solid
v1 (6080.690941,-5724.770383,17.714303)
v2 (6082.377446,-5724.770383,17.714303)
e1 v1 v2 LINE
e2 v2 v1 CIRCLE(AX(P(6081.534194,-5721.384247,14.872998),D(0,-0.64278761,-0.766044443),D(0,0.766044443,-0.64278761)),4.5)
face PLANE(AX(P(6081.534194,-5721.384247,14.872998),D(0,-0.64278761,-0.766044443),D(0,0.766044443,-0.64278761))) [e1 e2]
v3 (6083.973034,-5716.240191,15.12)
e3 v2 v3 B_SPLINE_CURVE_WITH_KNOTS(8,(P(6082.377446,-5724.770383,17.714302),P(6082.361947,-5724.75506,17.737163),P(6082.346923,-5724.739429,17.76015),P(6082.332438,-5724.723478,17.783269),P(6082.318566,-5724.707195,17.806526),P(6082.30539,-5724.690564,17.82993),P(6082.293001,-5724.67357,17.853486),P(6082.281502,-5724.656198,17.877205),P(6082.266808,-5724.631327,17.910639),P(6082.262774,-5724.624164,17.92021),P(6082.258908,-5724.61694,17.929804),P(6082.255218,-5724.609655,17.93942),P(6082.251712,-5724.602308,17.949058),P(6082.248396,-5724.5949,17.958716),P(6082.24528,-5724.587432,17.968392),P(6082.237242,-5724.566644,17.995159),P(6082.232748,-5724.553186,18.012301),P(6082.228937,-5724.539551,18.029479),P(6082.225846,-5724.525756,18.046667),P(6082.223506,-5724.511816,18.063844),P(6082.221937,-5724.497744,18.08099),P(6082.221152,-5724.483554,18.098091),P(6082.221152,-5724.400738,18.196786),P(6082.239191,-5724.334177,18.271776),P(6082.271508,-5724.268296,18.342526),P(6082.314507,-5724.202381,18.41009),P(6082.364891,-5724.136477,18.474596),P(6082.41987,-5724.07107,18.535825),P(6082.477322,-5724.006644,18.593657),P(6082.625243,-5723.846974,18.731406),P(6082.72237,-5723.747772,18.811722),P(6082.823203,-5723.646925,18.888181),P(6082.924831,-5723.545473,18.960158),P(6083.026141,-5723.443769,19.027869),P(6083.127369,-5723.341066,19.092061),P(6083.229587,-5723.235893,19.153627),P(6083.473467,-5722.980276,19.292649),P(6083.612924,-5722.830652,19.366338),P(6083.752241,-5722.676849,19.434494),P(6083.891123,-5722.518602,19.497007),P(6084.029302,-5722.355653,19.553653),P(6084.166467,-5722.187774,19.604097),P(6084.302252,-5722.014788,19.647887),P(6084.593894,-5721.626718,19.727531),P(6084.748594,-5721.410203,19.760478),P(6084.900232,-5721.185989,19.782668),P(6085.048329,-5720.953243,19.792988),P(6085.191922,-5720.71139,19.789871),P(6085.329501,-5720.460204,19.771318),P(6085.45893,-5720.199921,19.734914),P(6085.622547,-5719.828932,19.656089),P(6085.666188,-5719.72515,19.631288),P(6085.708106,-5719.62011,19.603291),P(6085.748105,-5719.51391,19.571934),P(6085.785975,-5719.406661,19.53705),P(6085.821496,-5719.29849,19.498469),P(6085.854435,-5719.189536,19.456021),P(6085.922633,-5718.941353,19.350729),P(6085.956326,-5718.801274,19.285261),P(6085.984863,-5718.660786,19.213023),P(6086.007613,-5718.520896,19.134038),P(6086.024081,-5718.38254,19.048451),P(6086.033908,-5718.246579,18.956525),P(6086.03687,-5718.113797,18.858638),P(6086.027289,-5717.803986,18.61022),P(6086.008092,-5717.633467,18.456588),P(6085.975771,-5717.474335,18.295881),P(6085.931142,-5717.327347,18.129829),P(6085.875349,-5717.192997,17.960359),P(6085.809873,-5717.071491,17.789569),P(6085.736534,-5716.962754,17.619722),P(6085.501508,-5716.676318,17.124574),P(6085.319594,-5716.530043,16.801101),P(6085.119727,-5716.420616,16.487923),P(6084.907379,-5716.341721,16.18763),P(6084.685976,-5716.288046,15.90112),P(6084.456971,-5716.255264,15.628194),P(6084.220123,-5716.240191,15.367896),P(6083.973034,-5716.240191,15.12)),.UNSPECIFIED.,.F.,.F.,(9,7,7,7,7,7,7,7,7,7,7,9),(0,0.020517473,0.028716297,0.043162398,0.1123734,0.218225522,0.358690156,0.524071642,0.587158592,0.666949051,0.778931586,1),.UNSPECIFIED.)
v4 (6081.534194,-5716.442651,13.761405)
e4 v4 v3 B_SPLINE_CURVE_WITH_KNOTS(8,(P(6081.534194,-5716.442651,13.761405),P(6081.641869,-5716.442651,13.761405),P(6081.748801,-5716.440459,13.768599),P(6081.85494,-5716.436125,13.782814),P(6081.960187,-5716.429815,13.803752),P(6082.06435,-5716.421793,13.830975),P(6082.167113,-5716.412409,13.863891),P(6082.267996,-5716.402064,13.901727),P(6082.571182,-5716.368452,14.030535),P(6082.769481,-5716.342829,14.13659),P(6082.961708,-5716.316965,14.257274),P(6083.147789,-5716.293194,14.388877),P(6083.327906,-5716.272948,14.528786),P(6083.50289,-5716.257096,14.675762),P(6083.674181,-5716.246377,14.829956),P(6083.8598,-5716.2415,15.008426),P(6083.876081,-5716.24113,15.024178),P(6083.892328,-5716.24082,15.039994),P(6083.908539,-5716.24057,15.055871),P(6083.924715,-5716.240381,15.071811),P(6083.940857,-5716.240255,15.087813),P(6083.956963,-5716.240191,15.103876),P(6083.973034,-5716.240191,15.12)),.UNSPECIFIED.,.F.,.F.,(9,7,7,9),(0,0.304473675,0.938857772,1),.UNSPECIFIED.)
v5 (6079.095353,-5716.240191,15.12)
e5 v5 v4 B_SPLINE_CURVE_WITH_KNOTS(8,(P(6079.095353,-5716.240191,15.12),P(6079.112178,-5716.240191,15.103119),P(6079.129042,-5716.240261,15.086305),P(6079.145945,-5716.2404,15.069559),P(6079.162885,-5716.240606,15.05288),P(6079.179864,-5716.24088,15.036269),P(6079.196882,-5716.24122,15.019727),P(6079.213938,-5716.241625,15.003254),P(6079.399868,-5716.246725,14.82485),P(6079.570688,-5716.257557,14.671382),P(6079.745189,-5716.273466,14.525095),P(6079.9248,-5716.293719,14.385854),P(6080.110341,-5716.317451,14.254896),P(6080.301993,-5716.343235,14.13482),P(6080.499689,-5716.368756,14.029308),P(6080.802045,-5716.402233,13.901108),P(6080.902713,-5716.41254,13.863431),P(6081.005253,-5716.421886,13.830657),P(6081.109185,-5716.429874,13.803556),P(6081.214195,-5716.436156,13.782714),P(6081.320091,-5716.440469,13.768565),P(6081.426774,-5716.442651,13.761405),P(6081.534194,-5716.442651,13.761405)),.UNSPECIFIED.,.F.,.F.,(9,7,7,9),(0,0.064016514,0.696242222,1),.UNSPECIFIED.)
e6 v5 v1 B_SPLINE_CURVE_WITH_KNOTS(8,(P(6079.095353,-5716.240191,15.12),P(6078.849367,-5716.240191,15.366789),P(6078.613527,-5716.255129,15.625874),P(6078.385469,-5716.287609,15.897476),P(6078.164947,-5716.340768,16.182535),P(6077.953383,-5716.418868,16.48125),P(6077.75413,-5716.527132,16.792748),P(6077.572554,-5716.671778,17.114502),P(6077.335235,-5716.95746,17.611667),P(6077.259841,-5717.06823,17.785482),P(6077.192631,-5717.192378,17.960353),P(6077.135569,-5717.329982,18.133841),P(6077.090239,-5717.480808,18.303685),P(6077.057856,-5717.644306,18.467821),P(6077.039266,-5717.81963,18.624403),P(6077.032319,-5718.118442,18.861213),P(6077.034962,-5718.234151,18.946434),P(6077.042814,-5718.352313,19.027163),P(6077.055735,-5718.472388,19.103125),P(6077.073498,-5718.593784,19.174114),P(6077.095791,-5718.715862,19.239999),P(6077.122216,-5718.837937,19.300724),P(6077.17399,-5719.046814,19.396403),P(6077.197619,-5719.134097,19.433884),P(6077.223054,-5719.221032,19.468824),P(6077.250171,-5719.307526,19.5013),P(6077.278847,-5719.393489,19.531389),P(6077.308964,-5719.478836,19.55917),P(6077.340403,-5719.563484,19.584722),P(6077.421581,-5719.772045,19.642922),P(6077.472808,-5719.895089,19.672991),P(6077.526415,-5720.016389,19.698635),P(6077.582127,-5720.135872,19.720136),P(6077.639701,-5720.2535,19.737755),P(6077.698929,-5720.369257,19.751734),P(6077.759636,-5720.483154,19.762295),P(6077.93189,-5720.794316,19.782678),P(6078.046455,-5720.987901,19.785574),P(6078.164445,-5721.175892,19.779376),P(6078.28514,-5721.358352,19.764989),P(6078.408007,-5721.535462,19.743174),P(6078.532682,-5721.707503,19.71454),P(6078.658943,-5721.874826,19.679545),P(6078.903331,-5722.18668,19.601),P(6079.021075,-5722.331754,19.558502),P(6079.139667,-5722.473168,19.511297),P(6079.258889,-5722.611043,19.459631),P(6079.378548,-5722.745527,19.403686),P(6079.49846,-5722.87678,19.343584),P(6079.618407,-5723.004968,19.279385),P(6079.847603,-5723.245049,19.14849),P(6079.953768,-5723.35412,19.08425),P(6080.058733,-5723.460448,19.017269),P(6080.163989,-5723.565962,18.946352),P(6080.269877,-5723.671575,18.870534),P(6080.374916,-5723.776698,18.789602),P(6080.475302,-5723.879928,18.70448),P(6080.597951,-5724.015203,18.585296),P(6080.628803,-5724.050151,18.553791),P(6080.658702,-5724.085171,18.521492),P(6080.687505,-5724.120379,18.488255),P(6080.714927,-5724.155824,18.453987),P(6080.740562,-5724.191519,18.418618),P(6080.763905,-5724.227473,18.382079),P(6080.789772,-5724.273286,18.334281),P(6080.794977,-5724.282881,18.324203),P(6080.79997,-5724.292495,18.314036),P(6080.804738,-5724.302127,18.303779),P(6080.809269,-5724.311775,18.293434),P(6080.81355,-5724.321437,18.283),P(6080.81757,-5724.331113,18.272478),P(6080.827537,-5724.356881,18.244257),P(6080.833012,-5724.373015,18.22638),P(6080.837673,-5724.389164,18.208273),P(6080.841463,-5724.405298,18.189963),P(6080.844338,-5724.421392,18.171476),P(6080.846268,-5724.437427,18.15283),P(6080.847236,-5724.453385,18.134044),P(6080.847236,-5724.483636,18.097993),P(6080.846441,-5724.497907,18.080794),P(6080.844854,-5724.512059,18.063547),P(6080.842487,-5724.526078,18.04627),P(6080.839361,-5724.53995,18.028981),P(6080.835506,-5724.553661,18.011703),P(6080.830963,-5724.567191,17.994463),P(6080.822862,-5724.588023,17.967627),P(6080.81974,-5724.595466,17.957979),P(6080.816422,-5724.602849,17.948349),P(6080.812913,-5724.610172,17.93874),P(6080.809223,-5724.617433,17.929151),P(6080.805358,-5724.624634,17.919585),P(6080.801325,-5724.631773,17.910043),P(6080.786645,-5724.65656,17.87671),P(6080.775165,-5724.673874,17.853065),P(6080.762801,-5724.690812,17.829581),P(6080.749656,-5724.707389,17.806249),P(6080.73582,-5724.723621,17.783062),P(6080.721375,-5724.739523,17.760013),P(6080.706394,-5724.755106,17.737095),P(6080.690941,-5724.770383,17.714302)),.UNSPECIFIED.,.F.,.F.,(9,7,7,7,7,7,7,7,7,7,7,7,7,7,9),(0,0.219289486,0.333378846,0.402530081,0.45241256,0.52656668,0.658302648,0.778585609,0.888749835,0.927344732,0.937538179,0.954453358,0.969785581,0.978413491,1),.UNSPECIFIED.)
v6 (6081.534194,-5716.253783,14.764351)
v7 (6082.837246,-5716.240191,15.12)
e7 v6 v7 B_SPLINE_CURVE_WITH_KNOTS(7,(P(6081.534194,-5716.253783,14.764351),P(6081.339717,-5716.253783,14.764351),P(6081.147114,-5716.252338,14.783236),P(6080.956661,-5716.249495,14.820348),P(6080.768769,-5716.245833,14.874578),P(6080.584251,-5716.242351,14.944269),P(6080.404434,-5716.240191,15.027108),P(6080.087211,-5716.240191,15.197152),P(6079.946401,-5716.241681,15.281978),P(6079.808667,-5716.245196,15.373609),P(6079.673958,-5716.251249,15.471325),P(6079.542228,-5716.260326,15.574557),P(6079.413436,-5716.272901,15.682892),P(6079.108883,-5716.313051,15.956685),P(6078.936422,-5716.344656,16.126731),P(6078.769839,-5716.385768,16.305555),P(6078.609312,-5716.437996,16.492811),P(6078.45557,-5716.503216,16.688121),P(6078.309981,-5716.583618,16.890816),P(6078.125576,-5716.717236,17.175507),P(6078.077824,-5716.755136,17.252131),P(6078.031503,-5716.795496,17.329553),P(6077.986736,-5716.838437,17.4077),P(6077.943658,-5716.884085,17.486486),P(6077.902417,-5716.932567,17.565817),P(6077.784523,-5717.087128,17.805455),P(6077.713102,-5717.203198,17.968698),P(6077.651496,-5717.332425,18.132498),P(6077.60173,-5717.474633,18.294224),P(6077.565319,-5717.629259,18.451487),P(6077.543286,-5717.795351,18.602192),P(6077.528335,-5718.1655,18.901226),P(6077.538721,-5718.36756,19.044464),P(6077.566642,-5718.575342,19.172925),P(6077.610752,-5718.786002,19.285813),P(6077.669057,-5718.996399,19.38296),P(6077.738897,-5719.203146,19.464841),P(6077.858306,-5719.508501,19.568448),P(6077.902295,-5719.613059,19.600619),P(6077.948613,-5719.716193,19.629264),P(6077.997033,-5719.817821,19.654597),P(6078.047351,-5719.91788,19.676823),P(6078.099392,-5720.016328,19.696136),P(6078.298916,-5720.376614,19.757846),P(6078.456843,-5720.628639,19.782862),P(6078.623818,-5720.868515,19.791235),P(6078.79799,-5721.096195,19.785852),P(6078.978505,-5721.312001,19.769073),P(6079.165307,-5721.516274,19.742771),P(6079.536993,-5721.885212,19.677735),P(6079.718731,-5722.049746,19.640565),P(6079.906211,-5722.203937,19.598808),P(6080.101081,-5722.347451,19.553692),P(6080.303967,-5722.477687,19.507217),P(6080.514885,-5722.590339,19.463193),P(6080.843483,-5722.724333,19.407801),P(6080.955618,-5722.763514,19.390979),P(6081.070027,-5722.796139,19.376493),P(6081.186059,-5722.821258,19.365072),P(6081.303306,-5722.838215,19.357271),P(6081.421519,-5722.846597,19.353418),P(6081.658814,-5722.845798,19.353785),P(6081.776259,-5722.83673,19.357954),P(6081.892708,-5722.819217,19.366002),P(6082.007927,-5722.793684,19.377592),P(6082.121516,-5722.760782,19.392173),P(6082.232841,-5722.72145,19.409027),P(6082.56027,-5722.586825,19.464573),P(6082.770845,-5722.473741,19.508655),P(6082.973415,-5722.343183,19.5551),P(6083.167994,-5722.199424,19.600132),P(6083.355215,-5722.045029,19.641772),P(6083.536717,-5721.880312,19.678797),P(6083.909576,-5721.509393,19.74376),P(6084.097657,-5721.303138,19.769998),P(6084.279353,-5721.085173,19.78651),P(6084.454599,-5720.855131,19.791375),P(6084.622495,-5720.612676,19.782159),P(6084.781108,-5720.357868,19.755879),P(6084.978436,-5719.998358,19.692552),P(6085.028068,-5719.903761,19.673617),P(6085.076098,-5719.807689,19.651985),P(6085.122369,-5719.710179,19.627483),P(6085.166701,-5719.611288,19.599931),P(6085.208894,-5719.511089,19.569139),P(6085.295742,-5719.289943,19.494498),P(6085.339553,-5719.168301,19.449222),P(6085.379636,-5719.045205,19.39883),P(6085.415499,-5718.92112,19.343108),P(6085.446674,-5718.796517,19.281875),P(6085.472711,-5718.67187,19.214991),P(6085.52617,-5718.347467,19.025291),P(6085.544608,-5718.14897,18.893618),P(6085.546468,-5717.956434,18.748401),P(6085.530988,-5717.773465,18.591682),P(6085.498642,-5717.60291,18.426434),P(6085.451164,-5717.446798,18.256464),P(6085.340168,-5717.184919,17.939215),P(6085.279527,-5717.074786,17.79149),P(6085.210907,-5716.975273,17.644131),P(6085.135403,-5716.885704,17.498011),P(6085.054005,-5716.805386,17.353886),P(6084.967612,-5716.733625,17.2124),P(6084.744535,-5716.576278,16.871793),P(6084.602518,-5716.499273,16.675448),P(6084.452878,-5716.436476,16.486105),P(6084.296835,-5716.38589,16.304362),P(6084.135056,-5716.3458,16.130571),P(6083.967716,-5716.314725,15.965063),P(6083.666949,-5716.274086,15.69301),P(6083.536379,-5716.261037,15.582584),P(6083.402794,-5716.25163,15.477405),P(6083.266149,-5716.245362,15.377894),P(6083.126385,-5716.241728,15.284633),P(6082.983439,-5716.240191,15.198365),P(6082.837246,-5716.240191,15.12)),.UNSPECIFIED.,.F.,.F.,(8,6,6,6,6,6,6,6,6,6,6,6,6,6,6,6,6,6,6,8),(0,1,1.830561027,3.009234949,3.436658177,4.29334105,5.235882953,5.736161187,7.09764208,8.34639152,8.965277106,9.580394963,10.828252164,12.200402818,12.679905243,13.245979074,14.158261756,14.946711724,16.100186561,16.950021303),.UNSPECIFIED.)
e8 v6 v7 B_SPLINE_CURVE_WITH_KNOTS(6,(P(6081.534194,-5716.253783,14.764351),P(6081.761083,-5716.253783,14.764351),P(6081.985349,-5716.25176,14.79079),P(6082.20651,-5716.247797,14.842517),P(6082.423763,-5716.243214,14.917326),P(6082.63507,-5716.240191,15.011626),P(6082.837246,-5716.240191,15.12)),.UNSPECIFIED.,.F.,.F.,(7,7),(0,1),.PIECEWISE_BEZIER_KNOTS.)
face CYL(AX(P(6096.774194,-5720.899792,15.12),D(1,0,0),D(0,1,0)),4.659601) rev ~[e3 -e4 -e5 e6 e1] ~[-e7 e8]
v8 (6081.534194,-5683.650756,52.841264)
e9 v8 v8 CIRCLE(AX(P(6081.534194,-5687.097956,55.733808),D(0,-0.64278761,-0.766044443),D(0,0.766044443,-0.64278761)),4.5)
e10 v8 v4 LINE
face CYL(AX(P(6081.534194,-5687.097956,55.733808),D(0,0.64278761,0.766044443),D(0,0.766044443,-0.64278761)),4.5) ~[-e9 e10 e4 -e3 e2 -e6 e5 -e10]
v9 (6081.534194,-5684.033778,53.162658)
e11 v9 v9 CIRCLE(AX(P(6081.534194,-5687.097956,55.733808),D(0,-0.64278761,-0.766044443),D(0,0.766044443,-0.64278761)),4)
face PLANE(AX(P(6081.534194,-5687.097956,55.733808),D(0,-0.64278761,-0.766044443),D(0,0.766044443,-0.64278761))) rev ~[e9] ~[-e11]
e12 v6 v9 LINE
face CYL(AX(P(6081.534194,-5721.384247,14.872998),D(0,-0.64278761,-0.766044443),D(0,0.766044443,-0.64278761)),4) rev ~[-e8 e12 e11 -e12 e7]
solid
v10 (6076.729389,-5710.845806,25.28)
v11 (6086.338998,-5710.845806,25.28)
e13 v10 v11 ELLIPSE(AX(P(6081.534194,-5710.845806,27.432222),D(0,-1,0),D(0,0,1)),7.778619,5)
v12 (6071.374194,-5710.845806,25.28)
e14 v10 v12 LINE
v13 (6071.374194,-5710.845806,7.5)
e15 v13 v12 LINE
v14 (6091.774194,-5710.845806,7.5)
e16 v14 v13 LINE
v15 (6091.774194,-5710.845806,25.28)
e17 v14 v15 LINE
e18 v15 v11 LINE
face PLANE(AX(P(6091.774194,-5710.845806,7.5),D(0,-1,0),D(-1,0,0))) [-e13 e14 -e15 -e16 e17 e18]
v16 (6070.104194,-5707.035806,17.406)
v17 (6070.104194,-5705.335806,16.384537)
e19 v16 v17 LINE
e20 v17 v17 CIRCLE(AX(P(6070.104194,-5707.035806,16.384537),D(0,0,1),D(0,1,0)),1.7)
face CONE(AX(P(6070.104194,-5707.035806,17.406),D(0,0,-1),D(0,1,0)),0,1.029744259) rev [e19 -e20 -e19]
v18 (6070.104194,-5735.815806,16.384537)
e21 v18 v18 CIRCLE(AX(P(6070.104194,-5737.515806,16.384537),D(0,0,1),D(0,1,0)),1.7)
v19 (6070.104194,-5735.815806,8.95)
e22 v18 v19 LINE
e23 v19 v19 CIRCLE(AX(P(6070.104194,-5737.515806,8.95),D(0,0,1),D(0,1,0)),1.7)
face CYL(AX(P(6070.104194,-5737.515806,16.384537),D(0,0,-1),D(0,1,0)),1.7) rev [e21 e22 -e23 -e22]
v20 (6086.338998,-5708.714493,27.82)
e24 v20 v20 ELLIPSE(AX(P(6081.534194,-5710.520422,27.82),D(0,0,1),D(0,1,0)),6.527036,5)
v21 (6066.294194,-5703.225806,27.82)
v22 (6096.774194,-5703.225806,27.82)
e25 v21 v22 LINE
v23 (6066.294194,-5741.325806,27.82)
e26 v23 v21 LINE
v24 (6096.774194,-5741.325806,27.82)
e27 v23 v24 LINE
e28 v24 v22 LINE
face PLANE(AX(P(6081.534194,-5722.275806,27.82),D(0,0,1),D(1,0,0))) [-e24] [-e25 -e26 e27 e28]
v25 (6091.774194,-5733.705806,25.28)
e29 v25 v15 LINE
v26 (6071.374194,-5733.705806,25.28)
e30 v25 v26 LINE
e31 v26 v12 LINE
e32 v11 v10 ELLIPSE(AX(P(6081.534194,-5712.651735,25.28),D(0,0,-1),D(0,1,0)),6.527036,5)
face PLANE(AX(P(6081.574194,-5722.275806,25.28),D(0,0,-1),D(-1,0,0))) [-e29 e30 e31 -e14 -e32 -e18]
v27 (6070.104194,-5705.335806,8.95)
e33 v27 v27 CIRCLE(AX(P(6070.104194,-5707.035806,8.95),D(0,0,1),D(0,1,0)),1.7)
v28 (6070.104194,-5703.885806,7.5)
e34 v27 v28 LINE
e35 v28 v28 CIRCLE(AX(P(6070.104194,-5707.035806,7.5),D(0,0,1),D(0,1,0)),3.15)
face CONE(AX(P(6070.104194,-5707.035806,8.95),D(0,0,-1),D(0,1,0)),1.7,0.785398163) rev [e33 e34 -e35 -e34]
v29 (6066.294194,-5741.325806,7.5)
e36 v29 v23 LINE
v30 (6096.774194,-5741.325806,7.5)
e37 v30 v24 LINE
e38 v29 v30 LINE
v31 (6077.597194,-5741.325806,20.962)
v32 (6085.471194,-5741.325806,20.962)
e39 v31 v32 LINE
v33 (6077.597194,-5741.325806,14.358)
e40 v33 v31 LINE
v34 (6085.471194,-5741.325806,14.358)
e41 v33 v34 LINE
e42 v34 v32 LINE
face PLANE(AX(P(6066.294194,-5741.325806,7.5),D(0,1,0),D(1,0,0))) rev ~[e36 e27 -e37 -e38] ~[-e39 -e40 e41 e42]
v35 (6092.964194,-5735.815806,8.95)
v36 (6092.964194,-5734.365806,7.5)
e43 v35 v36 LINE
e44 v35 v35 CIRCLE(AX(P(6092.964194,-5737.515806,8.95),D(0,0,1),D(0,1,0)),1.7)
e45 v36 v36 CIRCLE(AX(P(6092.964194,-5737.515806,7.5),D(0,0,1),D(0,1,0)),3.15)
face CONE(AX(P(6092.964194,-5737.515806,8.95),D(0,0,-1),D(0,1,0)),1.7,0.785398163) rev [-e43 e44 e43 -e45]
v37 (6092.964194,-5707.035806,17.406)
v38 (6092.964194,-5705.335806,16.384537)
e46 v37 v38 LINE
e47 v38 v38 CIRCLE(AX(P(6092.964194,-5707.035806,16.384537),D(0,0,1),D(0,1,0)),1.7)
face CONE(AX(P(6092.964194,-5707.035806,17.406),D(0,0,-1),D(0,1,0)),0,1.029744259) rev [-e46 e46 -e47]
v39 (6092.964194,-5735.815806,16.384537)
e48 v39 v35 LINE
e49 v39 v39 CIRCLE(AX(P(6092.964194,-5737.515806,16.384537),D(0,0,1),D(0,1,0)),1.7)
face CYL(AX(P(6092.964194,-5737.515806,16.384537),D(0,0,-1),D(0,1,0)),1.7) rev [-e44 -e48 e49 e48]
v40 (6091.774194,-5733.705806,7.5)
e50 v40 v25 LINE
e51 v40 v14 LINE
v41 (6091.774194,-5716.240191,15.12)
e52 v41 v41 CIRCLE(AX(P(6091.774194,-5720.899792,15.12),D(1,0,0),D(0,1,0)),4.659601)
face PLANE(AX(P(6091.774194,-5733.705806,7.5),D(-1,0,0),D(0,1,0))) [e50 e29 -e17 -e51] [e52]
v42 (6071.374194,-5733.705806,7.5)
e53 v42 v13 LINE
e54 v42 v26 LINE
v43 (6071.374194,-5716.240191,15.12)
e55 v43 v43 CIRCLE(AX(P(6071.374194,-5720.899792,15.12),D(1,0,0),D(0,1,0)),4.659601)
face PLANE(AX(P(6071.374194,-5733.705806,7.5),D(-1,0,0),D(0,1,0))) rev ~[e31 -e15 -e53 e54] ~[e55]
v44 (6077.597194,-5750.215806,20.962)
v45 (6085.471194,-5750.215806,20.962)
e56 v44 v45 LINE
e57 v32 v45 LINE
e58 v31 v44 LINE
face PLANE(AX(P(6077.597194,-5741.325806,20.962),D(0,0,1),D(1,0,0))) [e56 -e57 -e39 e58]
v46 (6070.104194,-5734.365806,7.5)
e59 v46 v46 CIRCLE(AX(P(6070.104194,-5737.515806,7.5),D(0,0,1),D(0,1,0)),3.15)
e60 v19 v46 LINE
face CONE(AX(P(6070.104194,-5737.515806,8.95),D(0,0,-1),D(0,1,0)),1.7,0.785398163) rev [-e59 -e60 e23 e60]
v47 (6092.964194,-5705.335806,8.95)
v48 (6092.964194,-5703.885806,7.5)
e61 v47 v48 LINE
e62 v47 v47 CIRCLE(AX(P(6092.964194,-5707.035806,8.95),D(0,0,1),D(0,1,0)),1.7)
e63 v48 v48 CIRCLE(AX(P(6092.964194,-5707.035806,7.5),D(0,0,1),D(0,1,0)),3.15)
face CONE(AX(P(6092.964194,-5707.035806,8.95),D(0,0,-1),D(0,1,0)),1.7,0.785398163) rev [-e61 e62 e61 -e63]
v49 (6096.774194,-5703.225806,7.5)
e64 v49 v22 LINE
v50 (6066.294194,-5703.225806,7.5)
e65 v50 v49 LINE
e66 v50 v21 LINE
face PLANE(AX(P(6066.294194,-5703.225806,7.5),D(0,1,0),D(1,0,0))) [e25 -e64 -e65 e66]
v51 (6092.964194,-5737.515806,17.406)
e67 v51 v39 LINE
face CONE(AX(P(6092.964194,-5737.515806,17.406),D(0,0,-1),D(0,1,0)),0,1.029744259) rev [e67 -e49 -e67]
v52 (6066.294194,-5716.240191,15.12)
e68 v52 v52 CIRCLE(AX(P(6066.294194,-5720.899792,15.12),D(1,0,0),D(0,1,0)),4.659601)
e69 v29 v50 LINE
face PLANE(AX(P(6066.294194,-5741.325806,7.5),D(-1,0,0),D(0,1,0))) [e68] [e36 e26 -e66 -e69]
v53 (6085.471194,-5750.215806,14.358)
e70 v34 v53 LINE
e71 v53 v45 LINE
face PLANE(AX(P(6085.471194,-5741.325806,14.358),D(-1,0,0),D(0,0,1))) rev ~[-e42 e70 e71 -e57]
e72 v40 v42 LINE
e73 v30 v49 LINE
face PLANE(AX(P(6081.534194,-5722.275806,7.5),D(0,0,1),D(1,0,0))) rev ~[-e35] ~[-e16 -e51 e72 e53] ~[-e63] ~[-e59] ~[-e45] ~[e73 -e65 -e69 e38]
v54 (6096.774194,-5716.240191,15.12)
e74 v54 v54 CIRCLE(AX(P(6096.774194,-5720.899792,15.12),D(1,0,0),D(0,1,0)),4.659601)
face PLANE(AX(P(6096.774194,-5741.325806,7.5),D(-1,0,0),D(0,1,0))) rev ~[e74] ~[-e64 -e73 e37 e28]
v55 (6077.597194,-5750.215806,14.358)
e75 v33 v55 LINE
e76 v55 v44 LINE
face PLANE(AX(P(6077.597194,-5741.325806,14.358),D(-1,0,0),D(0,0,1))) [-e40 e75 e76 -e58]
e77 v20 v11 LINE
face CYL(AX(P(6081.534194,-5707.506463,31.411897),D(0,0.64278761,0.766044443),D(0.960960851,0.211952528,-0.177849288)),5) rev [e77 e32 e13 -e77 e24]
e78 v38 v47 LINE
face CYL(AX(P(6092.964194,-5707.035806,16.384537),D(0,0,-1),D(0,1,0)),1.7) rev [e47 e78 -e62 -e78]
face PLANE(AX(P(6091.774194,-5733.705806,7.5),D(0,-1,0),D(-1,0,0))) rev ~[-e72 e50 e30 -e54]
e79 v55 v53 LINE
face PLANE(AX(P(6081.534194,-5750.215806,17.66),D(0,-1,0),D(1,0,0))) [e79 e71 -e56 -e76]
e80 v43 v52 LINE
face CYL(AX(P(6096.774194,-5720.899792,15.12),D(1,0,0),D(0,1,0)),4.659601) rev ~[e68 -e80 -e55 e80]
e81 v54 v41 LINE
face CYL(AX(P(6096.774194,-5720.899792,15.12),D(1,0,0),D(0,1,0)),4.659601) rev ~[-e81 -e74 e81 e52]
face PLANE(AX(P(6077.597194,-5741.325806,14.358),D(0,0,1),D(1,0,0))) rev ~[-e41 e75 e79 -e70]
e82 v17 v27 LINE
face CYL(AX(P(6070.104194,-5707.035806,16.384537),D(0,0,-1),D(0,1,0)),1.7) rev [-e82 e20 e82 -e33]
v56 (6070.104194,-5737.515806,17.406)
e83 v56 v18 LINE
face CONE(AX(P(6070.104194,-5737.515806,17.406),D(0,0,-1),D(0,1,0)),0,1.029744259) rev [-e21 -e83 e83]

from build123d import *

# Parameters (mm, degrees)
BOSS_EXTRUDE1_START                            = 7.5
SKETCH1_W                                      = 30.48
SKETCH1_H                                      = 38.1
BOSS_EXTRUDE1_DEPTH                            = 20.32
SKETCH2_W                                      = 20.4
SKETCH2_H                                      = 22.86
CUT_EXTRUDE1_DEPTH                             = 17.78
SKETCH5_R                                      = 5
CUT_EXTRUDE2_DEPTH                             = 23
BOSS_EXTRUDE2_DEPTH                            = 21.59
BOSS_EXTRUDE2_DEPTH_BACK                       = 31.75
SKETCH10_R                                     = 4.5
SKETCH11_R                                     = 4
CUT_EXTRUDE6_DEPTH                             = 7540.718926849
CSK_FOR_M3_FLAT_HEAD_MACHINE_SCREW1_AT_2_COUNT = 2
CSK_FOR_M3_FLAT_HEAD_MACHINE_SCREW1_AT_2_PITCH = 22.86
CSK_FOR_M3_FLAT_HEAD_MACHINE_SCREW1_AT_3_COUNT = 2
CSK_FOR_M3_FLAT_HEAD_MACHINE_SCREW1_AT_3_PITCH = 38.1
CSK_FOR_M3_FLAT_HEAD_MACHINE_SCREW1_AT_4_COUNT = 2
CSK_FOR_M3_FLAT_HEAD_MACHINE_SCREW1_AT_4_PITCH = 30.48
SKETCH17_R                                     = 4.659600795
CUT_EXTRUDE7_DEPTH                             = 5742.70602656
SKETCH19_W                                     = 7.874
SKETCH19_H                                     = 6.604
BOSS_EXTRUDE3_DEPTH                            = 8.89


with BuildPart() as part:
    # Sketch1 → Boss-Extrude1 (new body)
    with BuildSketch(Plane.XY.offset(BOSS_EXTRUDE1_START)):
        with Locations((6081.534193548, -5722.275806452)):
            Rectangle(SKETCH1_W, SKETCH1_H)
    extrude(amount=BOSS_EXTRUDE1_DEPTH)

    # Sketch2 → Cut-Extrude1 (cut)
    with BuildSketch(Plane(origin=(0, 0, 7.5), x_dir=(-1, 0, 0), z_dir=(0, 0, -1))):
        with Locations((-6081.574193548, -5722.275806452)):
            Rectangle(SKETCH2_W, SKETCH2_H)
    extrude(amount=-CUT_EXTRUDE1_DEPTH, mode=Mode.SUBTRACT)

    # Sketch5 → Cut-Extrude2 (cut)
    with BuildSketch(Plane(origin=(0, -2342.736843325, -2791.965049535), x_dir=(-1, 0, 0), z_dir=(0, -0.6427876096865405, -0.766044443118977))):
        with Locations(Location((-6081.534193548, -4392.394788186, 0), (0, 0, 163.93758294))):
            Circle(SKETCH5_R)
    extrude(amount=CUT_EXTRUDE2_DEPTH, mode=Mode.SUBTRACT)

    # Sketch14 → CSK for M3 Flat Head Machine Screw1 (revolve, cut)
    with BuildSketch(Plane(origin=(6092.964193548, -5707.035806452, 7.5), x_dir=(0, 1, 0), z_dir=(1, 0, 0))):
        Polygon((0, 0), (0, 9.906), (1.7, 8.884536948), (1.7, 1.45), (3.15, 0), align=None)
    csk_for_m3_flat_head_machine_screw1 = revolve(axis=Axis((6092.964193548, -5707.035806452, 1.15), (0, 0, 1)), mode=Mode.SUBTRACT)

    # CSK for M3 Flat Head Machine Screw1 at 2: CSK for M3 Flat Head Machine Screw1 ×2
    with Locations(*[(-i * CSK_FOR_M3_FLAT_HEAD_MACHINE_SCREW1_AT_2_PITCH, 0, 0) for i in range(1, CSK_FOR_M3_FLAT_HEAD_MACHINE_SCREW1_AT_2_COUNT)]):
        add(csk_for_m3_flat_head_machine_screw1, mode=Mode.SUBTRACT)

    # CSK for M3 Flat Head Machine Screw1 at 3: CSK for M3 Flat Head Machine Screw1 ×2
    with Locations(*[Vector(-0.5999999999999771, -0.8000000000000171, 0) * (i * CSK_FOR_M3_FLAT_HEAD_MACHINE_SCREW1_AT_3_PITCH) for i in range(1, CSK_FOR_M3_FLAT_HEAD_MACHINE_SCREW1_AT_3_COUNT)]):
        add(csk_for_m3_flat_head_machine_screw1, mode=Mode.SUBTRACT)

    # CSK for M3 Flat Head Machine Screw1 at 4: CSK for M3 Flat Head Machine Screw1 ×2
    with Locations(*[(0, -i * CSK_FOR_M3_FLAT_HEAD_MACHINE_SCREW1_AT_4_PITCH, 0) for i in range(1, CSK_FOR_M3_FLAT_HEAD_MACHINE_SCREW1_AT_4_COUNT)]):
        add(csk_for_m3_flat_head_machine_screw1, mode=Mode.SUBTRACT)


with BuildPart() as body_2:
    # Sketch10 → Boss-Extrude2 (new, two sides: drawn at the far end of the back side and taken through both)
    with BuildSketch(Plane(origin=(0, -2342.736843325, -2791.965049535), x_dir=(-1, 0, 0), z_dir=(0, -0.6427876096865405, -0.766044443118977)).offset(-BOSS_EXTRUDE2_DEPTH_BACK)):
        with Locations(Location((-6081.534193548, -4392.394788186, 0), (0, 0, 90))):
            Circle(SKETCH10_R)
    extrude(amount=BOSS_EXTRUDE2_DEPTH + BOSS_EXTRUDE2_DEPTH_BACK)

    # Sketch11 → Cut-Extrude6 (cut, through all)
    with BuildSketch(Plane(origin=(0, -2356.614627818, -2808.503949062), x_dir=(1, 0, 0), z_dir=(0, -0.6427876096865406, -0.766044443118977))):
        with Locations(Location((6081.534193548, 4392.394788186, 0), (0, 0, 270))):
            Circle(SKETCH11_R)
    extrude(amount=-CUT_EXTRUDE6_DEPTH, mode=Mode.SUBTRACT)


with BuildPart() as cut_extrude7_tool:
    # Sketch17 → Cut-Extrude7 (new, through all)
    with BuildSketch(Plane(origin=(6096.774193549, 0, 0), x_dir=(0, 0, -1), z_dir=(1, 0, 0))):
        with Locations(Location((-15.12, -5720.899791669, 0), (0, 0, 90))):
            Circle(SKETCH17_R)
    extrude(amount=-CUT_EXTRUDE7_DEPTH)


with BuildPart() as part_1:
    add(part.part)

    # Cut-Extrude7: cut by cut_extrude7_tool
    add(cut_extrude7_tool.part, mode=Mode.SUBTRACT)

    # Sketch19 → Boss-Extrude3 (add)
    with BuildSketch(Plane.XZ.offset(5741.325806452)):
        with Locations((6081.534193548, 17.66)):
            Rectangle(SKETCH19_W, SKETCH19_H)
    extrude(amount=BOSS_EXTRUDE3_DEPTH)


with BuildPart() as body_2_1:
    add(body_2.part)

    # Cut-Extrude7: cut by cut_extrude7_tool
    add(cut_extrude7_tool.part, mode=Mode.SUBTRACT)


solid = Compound([part_1.part, body_2_1.part])
